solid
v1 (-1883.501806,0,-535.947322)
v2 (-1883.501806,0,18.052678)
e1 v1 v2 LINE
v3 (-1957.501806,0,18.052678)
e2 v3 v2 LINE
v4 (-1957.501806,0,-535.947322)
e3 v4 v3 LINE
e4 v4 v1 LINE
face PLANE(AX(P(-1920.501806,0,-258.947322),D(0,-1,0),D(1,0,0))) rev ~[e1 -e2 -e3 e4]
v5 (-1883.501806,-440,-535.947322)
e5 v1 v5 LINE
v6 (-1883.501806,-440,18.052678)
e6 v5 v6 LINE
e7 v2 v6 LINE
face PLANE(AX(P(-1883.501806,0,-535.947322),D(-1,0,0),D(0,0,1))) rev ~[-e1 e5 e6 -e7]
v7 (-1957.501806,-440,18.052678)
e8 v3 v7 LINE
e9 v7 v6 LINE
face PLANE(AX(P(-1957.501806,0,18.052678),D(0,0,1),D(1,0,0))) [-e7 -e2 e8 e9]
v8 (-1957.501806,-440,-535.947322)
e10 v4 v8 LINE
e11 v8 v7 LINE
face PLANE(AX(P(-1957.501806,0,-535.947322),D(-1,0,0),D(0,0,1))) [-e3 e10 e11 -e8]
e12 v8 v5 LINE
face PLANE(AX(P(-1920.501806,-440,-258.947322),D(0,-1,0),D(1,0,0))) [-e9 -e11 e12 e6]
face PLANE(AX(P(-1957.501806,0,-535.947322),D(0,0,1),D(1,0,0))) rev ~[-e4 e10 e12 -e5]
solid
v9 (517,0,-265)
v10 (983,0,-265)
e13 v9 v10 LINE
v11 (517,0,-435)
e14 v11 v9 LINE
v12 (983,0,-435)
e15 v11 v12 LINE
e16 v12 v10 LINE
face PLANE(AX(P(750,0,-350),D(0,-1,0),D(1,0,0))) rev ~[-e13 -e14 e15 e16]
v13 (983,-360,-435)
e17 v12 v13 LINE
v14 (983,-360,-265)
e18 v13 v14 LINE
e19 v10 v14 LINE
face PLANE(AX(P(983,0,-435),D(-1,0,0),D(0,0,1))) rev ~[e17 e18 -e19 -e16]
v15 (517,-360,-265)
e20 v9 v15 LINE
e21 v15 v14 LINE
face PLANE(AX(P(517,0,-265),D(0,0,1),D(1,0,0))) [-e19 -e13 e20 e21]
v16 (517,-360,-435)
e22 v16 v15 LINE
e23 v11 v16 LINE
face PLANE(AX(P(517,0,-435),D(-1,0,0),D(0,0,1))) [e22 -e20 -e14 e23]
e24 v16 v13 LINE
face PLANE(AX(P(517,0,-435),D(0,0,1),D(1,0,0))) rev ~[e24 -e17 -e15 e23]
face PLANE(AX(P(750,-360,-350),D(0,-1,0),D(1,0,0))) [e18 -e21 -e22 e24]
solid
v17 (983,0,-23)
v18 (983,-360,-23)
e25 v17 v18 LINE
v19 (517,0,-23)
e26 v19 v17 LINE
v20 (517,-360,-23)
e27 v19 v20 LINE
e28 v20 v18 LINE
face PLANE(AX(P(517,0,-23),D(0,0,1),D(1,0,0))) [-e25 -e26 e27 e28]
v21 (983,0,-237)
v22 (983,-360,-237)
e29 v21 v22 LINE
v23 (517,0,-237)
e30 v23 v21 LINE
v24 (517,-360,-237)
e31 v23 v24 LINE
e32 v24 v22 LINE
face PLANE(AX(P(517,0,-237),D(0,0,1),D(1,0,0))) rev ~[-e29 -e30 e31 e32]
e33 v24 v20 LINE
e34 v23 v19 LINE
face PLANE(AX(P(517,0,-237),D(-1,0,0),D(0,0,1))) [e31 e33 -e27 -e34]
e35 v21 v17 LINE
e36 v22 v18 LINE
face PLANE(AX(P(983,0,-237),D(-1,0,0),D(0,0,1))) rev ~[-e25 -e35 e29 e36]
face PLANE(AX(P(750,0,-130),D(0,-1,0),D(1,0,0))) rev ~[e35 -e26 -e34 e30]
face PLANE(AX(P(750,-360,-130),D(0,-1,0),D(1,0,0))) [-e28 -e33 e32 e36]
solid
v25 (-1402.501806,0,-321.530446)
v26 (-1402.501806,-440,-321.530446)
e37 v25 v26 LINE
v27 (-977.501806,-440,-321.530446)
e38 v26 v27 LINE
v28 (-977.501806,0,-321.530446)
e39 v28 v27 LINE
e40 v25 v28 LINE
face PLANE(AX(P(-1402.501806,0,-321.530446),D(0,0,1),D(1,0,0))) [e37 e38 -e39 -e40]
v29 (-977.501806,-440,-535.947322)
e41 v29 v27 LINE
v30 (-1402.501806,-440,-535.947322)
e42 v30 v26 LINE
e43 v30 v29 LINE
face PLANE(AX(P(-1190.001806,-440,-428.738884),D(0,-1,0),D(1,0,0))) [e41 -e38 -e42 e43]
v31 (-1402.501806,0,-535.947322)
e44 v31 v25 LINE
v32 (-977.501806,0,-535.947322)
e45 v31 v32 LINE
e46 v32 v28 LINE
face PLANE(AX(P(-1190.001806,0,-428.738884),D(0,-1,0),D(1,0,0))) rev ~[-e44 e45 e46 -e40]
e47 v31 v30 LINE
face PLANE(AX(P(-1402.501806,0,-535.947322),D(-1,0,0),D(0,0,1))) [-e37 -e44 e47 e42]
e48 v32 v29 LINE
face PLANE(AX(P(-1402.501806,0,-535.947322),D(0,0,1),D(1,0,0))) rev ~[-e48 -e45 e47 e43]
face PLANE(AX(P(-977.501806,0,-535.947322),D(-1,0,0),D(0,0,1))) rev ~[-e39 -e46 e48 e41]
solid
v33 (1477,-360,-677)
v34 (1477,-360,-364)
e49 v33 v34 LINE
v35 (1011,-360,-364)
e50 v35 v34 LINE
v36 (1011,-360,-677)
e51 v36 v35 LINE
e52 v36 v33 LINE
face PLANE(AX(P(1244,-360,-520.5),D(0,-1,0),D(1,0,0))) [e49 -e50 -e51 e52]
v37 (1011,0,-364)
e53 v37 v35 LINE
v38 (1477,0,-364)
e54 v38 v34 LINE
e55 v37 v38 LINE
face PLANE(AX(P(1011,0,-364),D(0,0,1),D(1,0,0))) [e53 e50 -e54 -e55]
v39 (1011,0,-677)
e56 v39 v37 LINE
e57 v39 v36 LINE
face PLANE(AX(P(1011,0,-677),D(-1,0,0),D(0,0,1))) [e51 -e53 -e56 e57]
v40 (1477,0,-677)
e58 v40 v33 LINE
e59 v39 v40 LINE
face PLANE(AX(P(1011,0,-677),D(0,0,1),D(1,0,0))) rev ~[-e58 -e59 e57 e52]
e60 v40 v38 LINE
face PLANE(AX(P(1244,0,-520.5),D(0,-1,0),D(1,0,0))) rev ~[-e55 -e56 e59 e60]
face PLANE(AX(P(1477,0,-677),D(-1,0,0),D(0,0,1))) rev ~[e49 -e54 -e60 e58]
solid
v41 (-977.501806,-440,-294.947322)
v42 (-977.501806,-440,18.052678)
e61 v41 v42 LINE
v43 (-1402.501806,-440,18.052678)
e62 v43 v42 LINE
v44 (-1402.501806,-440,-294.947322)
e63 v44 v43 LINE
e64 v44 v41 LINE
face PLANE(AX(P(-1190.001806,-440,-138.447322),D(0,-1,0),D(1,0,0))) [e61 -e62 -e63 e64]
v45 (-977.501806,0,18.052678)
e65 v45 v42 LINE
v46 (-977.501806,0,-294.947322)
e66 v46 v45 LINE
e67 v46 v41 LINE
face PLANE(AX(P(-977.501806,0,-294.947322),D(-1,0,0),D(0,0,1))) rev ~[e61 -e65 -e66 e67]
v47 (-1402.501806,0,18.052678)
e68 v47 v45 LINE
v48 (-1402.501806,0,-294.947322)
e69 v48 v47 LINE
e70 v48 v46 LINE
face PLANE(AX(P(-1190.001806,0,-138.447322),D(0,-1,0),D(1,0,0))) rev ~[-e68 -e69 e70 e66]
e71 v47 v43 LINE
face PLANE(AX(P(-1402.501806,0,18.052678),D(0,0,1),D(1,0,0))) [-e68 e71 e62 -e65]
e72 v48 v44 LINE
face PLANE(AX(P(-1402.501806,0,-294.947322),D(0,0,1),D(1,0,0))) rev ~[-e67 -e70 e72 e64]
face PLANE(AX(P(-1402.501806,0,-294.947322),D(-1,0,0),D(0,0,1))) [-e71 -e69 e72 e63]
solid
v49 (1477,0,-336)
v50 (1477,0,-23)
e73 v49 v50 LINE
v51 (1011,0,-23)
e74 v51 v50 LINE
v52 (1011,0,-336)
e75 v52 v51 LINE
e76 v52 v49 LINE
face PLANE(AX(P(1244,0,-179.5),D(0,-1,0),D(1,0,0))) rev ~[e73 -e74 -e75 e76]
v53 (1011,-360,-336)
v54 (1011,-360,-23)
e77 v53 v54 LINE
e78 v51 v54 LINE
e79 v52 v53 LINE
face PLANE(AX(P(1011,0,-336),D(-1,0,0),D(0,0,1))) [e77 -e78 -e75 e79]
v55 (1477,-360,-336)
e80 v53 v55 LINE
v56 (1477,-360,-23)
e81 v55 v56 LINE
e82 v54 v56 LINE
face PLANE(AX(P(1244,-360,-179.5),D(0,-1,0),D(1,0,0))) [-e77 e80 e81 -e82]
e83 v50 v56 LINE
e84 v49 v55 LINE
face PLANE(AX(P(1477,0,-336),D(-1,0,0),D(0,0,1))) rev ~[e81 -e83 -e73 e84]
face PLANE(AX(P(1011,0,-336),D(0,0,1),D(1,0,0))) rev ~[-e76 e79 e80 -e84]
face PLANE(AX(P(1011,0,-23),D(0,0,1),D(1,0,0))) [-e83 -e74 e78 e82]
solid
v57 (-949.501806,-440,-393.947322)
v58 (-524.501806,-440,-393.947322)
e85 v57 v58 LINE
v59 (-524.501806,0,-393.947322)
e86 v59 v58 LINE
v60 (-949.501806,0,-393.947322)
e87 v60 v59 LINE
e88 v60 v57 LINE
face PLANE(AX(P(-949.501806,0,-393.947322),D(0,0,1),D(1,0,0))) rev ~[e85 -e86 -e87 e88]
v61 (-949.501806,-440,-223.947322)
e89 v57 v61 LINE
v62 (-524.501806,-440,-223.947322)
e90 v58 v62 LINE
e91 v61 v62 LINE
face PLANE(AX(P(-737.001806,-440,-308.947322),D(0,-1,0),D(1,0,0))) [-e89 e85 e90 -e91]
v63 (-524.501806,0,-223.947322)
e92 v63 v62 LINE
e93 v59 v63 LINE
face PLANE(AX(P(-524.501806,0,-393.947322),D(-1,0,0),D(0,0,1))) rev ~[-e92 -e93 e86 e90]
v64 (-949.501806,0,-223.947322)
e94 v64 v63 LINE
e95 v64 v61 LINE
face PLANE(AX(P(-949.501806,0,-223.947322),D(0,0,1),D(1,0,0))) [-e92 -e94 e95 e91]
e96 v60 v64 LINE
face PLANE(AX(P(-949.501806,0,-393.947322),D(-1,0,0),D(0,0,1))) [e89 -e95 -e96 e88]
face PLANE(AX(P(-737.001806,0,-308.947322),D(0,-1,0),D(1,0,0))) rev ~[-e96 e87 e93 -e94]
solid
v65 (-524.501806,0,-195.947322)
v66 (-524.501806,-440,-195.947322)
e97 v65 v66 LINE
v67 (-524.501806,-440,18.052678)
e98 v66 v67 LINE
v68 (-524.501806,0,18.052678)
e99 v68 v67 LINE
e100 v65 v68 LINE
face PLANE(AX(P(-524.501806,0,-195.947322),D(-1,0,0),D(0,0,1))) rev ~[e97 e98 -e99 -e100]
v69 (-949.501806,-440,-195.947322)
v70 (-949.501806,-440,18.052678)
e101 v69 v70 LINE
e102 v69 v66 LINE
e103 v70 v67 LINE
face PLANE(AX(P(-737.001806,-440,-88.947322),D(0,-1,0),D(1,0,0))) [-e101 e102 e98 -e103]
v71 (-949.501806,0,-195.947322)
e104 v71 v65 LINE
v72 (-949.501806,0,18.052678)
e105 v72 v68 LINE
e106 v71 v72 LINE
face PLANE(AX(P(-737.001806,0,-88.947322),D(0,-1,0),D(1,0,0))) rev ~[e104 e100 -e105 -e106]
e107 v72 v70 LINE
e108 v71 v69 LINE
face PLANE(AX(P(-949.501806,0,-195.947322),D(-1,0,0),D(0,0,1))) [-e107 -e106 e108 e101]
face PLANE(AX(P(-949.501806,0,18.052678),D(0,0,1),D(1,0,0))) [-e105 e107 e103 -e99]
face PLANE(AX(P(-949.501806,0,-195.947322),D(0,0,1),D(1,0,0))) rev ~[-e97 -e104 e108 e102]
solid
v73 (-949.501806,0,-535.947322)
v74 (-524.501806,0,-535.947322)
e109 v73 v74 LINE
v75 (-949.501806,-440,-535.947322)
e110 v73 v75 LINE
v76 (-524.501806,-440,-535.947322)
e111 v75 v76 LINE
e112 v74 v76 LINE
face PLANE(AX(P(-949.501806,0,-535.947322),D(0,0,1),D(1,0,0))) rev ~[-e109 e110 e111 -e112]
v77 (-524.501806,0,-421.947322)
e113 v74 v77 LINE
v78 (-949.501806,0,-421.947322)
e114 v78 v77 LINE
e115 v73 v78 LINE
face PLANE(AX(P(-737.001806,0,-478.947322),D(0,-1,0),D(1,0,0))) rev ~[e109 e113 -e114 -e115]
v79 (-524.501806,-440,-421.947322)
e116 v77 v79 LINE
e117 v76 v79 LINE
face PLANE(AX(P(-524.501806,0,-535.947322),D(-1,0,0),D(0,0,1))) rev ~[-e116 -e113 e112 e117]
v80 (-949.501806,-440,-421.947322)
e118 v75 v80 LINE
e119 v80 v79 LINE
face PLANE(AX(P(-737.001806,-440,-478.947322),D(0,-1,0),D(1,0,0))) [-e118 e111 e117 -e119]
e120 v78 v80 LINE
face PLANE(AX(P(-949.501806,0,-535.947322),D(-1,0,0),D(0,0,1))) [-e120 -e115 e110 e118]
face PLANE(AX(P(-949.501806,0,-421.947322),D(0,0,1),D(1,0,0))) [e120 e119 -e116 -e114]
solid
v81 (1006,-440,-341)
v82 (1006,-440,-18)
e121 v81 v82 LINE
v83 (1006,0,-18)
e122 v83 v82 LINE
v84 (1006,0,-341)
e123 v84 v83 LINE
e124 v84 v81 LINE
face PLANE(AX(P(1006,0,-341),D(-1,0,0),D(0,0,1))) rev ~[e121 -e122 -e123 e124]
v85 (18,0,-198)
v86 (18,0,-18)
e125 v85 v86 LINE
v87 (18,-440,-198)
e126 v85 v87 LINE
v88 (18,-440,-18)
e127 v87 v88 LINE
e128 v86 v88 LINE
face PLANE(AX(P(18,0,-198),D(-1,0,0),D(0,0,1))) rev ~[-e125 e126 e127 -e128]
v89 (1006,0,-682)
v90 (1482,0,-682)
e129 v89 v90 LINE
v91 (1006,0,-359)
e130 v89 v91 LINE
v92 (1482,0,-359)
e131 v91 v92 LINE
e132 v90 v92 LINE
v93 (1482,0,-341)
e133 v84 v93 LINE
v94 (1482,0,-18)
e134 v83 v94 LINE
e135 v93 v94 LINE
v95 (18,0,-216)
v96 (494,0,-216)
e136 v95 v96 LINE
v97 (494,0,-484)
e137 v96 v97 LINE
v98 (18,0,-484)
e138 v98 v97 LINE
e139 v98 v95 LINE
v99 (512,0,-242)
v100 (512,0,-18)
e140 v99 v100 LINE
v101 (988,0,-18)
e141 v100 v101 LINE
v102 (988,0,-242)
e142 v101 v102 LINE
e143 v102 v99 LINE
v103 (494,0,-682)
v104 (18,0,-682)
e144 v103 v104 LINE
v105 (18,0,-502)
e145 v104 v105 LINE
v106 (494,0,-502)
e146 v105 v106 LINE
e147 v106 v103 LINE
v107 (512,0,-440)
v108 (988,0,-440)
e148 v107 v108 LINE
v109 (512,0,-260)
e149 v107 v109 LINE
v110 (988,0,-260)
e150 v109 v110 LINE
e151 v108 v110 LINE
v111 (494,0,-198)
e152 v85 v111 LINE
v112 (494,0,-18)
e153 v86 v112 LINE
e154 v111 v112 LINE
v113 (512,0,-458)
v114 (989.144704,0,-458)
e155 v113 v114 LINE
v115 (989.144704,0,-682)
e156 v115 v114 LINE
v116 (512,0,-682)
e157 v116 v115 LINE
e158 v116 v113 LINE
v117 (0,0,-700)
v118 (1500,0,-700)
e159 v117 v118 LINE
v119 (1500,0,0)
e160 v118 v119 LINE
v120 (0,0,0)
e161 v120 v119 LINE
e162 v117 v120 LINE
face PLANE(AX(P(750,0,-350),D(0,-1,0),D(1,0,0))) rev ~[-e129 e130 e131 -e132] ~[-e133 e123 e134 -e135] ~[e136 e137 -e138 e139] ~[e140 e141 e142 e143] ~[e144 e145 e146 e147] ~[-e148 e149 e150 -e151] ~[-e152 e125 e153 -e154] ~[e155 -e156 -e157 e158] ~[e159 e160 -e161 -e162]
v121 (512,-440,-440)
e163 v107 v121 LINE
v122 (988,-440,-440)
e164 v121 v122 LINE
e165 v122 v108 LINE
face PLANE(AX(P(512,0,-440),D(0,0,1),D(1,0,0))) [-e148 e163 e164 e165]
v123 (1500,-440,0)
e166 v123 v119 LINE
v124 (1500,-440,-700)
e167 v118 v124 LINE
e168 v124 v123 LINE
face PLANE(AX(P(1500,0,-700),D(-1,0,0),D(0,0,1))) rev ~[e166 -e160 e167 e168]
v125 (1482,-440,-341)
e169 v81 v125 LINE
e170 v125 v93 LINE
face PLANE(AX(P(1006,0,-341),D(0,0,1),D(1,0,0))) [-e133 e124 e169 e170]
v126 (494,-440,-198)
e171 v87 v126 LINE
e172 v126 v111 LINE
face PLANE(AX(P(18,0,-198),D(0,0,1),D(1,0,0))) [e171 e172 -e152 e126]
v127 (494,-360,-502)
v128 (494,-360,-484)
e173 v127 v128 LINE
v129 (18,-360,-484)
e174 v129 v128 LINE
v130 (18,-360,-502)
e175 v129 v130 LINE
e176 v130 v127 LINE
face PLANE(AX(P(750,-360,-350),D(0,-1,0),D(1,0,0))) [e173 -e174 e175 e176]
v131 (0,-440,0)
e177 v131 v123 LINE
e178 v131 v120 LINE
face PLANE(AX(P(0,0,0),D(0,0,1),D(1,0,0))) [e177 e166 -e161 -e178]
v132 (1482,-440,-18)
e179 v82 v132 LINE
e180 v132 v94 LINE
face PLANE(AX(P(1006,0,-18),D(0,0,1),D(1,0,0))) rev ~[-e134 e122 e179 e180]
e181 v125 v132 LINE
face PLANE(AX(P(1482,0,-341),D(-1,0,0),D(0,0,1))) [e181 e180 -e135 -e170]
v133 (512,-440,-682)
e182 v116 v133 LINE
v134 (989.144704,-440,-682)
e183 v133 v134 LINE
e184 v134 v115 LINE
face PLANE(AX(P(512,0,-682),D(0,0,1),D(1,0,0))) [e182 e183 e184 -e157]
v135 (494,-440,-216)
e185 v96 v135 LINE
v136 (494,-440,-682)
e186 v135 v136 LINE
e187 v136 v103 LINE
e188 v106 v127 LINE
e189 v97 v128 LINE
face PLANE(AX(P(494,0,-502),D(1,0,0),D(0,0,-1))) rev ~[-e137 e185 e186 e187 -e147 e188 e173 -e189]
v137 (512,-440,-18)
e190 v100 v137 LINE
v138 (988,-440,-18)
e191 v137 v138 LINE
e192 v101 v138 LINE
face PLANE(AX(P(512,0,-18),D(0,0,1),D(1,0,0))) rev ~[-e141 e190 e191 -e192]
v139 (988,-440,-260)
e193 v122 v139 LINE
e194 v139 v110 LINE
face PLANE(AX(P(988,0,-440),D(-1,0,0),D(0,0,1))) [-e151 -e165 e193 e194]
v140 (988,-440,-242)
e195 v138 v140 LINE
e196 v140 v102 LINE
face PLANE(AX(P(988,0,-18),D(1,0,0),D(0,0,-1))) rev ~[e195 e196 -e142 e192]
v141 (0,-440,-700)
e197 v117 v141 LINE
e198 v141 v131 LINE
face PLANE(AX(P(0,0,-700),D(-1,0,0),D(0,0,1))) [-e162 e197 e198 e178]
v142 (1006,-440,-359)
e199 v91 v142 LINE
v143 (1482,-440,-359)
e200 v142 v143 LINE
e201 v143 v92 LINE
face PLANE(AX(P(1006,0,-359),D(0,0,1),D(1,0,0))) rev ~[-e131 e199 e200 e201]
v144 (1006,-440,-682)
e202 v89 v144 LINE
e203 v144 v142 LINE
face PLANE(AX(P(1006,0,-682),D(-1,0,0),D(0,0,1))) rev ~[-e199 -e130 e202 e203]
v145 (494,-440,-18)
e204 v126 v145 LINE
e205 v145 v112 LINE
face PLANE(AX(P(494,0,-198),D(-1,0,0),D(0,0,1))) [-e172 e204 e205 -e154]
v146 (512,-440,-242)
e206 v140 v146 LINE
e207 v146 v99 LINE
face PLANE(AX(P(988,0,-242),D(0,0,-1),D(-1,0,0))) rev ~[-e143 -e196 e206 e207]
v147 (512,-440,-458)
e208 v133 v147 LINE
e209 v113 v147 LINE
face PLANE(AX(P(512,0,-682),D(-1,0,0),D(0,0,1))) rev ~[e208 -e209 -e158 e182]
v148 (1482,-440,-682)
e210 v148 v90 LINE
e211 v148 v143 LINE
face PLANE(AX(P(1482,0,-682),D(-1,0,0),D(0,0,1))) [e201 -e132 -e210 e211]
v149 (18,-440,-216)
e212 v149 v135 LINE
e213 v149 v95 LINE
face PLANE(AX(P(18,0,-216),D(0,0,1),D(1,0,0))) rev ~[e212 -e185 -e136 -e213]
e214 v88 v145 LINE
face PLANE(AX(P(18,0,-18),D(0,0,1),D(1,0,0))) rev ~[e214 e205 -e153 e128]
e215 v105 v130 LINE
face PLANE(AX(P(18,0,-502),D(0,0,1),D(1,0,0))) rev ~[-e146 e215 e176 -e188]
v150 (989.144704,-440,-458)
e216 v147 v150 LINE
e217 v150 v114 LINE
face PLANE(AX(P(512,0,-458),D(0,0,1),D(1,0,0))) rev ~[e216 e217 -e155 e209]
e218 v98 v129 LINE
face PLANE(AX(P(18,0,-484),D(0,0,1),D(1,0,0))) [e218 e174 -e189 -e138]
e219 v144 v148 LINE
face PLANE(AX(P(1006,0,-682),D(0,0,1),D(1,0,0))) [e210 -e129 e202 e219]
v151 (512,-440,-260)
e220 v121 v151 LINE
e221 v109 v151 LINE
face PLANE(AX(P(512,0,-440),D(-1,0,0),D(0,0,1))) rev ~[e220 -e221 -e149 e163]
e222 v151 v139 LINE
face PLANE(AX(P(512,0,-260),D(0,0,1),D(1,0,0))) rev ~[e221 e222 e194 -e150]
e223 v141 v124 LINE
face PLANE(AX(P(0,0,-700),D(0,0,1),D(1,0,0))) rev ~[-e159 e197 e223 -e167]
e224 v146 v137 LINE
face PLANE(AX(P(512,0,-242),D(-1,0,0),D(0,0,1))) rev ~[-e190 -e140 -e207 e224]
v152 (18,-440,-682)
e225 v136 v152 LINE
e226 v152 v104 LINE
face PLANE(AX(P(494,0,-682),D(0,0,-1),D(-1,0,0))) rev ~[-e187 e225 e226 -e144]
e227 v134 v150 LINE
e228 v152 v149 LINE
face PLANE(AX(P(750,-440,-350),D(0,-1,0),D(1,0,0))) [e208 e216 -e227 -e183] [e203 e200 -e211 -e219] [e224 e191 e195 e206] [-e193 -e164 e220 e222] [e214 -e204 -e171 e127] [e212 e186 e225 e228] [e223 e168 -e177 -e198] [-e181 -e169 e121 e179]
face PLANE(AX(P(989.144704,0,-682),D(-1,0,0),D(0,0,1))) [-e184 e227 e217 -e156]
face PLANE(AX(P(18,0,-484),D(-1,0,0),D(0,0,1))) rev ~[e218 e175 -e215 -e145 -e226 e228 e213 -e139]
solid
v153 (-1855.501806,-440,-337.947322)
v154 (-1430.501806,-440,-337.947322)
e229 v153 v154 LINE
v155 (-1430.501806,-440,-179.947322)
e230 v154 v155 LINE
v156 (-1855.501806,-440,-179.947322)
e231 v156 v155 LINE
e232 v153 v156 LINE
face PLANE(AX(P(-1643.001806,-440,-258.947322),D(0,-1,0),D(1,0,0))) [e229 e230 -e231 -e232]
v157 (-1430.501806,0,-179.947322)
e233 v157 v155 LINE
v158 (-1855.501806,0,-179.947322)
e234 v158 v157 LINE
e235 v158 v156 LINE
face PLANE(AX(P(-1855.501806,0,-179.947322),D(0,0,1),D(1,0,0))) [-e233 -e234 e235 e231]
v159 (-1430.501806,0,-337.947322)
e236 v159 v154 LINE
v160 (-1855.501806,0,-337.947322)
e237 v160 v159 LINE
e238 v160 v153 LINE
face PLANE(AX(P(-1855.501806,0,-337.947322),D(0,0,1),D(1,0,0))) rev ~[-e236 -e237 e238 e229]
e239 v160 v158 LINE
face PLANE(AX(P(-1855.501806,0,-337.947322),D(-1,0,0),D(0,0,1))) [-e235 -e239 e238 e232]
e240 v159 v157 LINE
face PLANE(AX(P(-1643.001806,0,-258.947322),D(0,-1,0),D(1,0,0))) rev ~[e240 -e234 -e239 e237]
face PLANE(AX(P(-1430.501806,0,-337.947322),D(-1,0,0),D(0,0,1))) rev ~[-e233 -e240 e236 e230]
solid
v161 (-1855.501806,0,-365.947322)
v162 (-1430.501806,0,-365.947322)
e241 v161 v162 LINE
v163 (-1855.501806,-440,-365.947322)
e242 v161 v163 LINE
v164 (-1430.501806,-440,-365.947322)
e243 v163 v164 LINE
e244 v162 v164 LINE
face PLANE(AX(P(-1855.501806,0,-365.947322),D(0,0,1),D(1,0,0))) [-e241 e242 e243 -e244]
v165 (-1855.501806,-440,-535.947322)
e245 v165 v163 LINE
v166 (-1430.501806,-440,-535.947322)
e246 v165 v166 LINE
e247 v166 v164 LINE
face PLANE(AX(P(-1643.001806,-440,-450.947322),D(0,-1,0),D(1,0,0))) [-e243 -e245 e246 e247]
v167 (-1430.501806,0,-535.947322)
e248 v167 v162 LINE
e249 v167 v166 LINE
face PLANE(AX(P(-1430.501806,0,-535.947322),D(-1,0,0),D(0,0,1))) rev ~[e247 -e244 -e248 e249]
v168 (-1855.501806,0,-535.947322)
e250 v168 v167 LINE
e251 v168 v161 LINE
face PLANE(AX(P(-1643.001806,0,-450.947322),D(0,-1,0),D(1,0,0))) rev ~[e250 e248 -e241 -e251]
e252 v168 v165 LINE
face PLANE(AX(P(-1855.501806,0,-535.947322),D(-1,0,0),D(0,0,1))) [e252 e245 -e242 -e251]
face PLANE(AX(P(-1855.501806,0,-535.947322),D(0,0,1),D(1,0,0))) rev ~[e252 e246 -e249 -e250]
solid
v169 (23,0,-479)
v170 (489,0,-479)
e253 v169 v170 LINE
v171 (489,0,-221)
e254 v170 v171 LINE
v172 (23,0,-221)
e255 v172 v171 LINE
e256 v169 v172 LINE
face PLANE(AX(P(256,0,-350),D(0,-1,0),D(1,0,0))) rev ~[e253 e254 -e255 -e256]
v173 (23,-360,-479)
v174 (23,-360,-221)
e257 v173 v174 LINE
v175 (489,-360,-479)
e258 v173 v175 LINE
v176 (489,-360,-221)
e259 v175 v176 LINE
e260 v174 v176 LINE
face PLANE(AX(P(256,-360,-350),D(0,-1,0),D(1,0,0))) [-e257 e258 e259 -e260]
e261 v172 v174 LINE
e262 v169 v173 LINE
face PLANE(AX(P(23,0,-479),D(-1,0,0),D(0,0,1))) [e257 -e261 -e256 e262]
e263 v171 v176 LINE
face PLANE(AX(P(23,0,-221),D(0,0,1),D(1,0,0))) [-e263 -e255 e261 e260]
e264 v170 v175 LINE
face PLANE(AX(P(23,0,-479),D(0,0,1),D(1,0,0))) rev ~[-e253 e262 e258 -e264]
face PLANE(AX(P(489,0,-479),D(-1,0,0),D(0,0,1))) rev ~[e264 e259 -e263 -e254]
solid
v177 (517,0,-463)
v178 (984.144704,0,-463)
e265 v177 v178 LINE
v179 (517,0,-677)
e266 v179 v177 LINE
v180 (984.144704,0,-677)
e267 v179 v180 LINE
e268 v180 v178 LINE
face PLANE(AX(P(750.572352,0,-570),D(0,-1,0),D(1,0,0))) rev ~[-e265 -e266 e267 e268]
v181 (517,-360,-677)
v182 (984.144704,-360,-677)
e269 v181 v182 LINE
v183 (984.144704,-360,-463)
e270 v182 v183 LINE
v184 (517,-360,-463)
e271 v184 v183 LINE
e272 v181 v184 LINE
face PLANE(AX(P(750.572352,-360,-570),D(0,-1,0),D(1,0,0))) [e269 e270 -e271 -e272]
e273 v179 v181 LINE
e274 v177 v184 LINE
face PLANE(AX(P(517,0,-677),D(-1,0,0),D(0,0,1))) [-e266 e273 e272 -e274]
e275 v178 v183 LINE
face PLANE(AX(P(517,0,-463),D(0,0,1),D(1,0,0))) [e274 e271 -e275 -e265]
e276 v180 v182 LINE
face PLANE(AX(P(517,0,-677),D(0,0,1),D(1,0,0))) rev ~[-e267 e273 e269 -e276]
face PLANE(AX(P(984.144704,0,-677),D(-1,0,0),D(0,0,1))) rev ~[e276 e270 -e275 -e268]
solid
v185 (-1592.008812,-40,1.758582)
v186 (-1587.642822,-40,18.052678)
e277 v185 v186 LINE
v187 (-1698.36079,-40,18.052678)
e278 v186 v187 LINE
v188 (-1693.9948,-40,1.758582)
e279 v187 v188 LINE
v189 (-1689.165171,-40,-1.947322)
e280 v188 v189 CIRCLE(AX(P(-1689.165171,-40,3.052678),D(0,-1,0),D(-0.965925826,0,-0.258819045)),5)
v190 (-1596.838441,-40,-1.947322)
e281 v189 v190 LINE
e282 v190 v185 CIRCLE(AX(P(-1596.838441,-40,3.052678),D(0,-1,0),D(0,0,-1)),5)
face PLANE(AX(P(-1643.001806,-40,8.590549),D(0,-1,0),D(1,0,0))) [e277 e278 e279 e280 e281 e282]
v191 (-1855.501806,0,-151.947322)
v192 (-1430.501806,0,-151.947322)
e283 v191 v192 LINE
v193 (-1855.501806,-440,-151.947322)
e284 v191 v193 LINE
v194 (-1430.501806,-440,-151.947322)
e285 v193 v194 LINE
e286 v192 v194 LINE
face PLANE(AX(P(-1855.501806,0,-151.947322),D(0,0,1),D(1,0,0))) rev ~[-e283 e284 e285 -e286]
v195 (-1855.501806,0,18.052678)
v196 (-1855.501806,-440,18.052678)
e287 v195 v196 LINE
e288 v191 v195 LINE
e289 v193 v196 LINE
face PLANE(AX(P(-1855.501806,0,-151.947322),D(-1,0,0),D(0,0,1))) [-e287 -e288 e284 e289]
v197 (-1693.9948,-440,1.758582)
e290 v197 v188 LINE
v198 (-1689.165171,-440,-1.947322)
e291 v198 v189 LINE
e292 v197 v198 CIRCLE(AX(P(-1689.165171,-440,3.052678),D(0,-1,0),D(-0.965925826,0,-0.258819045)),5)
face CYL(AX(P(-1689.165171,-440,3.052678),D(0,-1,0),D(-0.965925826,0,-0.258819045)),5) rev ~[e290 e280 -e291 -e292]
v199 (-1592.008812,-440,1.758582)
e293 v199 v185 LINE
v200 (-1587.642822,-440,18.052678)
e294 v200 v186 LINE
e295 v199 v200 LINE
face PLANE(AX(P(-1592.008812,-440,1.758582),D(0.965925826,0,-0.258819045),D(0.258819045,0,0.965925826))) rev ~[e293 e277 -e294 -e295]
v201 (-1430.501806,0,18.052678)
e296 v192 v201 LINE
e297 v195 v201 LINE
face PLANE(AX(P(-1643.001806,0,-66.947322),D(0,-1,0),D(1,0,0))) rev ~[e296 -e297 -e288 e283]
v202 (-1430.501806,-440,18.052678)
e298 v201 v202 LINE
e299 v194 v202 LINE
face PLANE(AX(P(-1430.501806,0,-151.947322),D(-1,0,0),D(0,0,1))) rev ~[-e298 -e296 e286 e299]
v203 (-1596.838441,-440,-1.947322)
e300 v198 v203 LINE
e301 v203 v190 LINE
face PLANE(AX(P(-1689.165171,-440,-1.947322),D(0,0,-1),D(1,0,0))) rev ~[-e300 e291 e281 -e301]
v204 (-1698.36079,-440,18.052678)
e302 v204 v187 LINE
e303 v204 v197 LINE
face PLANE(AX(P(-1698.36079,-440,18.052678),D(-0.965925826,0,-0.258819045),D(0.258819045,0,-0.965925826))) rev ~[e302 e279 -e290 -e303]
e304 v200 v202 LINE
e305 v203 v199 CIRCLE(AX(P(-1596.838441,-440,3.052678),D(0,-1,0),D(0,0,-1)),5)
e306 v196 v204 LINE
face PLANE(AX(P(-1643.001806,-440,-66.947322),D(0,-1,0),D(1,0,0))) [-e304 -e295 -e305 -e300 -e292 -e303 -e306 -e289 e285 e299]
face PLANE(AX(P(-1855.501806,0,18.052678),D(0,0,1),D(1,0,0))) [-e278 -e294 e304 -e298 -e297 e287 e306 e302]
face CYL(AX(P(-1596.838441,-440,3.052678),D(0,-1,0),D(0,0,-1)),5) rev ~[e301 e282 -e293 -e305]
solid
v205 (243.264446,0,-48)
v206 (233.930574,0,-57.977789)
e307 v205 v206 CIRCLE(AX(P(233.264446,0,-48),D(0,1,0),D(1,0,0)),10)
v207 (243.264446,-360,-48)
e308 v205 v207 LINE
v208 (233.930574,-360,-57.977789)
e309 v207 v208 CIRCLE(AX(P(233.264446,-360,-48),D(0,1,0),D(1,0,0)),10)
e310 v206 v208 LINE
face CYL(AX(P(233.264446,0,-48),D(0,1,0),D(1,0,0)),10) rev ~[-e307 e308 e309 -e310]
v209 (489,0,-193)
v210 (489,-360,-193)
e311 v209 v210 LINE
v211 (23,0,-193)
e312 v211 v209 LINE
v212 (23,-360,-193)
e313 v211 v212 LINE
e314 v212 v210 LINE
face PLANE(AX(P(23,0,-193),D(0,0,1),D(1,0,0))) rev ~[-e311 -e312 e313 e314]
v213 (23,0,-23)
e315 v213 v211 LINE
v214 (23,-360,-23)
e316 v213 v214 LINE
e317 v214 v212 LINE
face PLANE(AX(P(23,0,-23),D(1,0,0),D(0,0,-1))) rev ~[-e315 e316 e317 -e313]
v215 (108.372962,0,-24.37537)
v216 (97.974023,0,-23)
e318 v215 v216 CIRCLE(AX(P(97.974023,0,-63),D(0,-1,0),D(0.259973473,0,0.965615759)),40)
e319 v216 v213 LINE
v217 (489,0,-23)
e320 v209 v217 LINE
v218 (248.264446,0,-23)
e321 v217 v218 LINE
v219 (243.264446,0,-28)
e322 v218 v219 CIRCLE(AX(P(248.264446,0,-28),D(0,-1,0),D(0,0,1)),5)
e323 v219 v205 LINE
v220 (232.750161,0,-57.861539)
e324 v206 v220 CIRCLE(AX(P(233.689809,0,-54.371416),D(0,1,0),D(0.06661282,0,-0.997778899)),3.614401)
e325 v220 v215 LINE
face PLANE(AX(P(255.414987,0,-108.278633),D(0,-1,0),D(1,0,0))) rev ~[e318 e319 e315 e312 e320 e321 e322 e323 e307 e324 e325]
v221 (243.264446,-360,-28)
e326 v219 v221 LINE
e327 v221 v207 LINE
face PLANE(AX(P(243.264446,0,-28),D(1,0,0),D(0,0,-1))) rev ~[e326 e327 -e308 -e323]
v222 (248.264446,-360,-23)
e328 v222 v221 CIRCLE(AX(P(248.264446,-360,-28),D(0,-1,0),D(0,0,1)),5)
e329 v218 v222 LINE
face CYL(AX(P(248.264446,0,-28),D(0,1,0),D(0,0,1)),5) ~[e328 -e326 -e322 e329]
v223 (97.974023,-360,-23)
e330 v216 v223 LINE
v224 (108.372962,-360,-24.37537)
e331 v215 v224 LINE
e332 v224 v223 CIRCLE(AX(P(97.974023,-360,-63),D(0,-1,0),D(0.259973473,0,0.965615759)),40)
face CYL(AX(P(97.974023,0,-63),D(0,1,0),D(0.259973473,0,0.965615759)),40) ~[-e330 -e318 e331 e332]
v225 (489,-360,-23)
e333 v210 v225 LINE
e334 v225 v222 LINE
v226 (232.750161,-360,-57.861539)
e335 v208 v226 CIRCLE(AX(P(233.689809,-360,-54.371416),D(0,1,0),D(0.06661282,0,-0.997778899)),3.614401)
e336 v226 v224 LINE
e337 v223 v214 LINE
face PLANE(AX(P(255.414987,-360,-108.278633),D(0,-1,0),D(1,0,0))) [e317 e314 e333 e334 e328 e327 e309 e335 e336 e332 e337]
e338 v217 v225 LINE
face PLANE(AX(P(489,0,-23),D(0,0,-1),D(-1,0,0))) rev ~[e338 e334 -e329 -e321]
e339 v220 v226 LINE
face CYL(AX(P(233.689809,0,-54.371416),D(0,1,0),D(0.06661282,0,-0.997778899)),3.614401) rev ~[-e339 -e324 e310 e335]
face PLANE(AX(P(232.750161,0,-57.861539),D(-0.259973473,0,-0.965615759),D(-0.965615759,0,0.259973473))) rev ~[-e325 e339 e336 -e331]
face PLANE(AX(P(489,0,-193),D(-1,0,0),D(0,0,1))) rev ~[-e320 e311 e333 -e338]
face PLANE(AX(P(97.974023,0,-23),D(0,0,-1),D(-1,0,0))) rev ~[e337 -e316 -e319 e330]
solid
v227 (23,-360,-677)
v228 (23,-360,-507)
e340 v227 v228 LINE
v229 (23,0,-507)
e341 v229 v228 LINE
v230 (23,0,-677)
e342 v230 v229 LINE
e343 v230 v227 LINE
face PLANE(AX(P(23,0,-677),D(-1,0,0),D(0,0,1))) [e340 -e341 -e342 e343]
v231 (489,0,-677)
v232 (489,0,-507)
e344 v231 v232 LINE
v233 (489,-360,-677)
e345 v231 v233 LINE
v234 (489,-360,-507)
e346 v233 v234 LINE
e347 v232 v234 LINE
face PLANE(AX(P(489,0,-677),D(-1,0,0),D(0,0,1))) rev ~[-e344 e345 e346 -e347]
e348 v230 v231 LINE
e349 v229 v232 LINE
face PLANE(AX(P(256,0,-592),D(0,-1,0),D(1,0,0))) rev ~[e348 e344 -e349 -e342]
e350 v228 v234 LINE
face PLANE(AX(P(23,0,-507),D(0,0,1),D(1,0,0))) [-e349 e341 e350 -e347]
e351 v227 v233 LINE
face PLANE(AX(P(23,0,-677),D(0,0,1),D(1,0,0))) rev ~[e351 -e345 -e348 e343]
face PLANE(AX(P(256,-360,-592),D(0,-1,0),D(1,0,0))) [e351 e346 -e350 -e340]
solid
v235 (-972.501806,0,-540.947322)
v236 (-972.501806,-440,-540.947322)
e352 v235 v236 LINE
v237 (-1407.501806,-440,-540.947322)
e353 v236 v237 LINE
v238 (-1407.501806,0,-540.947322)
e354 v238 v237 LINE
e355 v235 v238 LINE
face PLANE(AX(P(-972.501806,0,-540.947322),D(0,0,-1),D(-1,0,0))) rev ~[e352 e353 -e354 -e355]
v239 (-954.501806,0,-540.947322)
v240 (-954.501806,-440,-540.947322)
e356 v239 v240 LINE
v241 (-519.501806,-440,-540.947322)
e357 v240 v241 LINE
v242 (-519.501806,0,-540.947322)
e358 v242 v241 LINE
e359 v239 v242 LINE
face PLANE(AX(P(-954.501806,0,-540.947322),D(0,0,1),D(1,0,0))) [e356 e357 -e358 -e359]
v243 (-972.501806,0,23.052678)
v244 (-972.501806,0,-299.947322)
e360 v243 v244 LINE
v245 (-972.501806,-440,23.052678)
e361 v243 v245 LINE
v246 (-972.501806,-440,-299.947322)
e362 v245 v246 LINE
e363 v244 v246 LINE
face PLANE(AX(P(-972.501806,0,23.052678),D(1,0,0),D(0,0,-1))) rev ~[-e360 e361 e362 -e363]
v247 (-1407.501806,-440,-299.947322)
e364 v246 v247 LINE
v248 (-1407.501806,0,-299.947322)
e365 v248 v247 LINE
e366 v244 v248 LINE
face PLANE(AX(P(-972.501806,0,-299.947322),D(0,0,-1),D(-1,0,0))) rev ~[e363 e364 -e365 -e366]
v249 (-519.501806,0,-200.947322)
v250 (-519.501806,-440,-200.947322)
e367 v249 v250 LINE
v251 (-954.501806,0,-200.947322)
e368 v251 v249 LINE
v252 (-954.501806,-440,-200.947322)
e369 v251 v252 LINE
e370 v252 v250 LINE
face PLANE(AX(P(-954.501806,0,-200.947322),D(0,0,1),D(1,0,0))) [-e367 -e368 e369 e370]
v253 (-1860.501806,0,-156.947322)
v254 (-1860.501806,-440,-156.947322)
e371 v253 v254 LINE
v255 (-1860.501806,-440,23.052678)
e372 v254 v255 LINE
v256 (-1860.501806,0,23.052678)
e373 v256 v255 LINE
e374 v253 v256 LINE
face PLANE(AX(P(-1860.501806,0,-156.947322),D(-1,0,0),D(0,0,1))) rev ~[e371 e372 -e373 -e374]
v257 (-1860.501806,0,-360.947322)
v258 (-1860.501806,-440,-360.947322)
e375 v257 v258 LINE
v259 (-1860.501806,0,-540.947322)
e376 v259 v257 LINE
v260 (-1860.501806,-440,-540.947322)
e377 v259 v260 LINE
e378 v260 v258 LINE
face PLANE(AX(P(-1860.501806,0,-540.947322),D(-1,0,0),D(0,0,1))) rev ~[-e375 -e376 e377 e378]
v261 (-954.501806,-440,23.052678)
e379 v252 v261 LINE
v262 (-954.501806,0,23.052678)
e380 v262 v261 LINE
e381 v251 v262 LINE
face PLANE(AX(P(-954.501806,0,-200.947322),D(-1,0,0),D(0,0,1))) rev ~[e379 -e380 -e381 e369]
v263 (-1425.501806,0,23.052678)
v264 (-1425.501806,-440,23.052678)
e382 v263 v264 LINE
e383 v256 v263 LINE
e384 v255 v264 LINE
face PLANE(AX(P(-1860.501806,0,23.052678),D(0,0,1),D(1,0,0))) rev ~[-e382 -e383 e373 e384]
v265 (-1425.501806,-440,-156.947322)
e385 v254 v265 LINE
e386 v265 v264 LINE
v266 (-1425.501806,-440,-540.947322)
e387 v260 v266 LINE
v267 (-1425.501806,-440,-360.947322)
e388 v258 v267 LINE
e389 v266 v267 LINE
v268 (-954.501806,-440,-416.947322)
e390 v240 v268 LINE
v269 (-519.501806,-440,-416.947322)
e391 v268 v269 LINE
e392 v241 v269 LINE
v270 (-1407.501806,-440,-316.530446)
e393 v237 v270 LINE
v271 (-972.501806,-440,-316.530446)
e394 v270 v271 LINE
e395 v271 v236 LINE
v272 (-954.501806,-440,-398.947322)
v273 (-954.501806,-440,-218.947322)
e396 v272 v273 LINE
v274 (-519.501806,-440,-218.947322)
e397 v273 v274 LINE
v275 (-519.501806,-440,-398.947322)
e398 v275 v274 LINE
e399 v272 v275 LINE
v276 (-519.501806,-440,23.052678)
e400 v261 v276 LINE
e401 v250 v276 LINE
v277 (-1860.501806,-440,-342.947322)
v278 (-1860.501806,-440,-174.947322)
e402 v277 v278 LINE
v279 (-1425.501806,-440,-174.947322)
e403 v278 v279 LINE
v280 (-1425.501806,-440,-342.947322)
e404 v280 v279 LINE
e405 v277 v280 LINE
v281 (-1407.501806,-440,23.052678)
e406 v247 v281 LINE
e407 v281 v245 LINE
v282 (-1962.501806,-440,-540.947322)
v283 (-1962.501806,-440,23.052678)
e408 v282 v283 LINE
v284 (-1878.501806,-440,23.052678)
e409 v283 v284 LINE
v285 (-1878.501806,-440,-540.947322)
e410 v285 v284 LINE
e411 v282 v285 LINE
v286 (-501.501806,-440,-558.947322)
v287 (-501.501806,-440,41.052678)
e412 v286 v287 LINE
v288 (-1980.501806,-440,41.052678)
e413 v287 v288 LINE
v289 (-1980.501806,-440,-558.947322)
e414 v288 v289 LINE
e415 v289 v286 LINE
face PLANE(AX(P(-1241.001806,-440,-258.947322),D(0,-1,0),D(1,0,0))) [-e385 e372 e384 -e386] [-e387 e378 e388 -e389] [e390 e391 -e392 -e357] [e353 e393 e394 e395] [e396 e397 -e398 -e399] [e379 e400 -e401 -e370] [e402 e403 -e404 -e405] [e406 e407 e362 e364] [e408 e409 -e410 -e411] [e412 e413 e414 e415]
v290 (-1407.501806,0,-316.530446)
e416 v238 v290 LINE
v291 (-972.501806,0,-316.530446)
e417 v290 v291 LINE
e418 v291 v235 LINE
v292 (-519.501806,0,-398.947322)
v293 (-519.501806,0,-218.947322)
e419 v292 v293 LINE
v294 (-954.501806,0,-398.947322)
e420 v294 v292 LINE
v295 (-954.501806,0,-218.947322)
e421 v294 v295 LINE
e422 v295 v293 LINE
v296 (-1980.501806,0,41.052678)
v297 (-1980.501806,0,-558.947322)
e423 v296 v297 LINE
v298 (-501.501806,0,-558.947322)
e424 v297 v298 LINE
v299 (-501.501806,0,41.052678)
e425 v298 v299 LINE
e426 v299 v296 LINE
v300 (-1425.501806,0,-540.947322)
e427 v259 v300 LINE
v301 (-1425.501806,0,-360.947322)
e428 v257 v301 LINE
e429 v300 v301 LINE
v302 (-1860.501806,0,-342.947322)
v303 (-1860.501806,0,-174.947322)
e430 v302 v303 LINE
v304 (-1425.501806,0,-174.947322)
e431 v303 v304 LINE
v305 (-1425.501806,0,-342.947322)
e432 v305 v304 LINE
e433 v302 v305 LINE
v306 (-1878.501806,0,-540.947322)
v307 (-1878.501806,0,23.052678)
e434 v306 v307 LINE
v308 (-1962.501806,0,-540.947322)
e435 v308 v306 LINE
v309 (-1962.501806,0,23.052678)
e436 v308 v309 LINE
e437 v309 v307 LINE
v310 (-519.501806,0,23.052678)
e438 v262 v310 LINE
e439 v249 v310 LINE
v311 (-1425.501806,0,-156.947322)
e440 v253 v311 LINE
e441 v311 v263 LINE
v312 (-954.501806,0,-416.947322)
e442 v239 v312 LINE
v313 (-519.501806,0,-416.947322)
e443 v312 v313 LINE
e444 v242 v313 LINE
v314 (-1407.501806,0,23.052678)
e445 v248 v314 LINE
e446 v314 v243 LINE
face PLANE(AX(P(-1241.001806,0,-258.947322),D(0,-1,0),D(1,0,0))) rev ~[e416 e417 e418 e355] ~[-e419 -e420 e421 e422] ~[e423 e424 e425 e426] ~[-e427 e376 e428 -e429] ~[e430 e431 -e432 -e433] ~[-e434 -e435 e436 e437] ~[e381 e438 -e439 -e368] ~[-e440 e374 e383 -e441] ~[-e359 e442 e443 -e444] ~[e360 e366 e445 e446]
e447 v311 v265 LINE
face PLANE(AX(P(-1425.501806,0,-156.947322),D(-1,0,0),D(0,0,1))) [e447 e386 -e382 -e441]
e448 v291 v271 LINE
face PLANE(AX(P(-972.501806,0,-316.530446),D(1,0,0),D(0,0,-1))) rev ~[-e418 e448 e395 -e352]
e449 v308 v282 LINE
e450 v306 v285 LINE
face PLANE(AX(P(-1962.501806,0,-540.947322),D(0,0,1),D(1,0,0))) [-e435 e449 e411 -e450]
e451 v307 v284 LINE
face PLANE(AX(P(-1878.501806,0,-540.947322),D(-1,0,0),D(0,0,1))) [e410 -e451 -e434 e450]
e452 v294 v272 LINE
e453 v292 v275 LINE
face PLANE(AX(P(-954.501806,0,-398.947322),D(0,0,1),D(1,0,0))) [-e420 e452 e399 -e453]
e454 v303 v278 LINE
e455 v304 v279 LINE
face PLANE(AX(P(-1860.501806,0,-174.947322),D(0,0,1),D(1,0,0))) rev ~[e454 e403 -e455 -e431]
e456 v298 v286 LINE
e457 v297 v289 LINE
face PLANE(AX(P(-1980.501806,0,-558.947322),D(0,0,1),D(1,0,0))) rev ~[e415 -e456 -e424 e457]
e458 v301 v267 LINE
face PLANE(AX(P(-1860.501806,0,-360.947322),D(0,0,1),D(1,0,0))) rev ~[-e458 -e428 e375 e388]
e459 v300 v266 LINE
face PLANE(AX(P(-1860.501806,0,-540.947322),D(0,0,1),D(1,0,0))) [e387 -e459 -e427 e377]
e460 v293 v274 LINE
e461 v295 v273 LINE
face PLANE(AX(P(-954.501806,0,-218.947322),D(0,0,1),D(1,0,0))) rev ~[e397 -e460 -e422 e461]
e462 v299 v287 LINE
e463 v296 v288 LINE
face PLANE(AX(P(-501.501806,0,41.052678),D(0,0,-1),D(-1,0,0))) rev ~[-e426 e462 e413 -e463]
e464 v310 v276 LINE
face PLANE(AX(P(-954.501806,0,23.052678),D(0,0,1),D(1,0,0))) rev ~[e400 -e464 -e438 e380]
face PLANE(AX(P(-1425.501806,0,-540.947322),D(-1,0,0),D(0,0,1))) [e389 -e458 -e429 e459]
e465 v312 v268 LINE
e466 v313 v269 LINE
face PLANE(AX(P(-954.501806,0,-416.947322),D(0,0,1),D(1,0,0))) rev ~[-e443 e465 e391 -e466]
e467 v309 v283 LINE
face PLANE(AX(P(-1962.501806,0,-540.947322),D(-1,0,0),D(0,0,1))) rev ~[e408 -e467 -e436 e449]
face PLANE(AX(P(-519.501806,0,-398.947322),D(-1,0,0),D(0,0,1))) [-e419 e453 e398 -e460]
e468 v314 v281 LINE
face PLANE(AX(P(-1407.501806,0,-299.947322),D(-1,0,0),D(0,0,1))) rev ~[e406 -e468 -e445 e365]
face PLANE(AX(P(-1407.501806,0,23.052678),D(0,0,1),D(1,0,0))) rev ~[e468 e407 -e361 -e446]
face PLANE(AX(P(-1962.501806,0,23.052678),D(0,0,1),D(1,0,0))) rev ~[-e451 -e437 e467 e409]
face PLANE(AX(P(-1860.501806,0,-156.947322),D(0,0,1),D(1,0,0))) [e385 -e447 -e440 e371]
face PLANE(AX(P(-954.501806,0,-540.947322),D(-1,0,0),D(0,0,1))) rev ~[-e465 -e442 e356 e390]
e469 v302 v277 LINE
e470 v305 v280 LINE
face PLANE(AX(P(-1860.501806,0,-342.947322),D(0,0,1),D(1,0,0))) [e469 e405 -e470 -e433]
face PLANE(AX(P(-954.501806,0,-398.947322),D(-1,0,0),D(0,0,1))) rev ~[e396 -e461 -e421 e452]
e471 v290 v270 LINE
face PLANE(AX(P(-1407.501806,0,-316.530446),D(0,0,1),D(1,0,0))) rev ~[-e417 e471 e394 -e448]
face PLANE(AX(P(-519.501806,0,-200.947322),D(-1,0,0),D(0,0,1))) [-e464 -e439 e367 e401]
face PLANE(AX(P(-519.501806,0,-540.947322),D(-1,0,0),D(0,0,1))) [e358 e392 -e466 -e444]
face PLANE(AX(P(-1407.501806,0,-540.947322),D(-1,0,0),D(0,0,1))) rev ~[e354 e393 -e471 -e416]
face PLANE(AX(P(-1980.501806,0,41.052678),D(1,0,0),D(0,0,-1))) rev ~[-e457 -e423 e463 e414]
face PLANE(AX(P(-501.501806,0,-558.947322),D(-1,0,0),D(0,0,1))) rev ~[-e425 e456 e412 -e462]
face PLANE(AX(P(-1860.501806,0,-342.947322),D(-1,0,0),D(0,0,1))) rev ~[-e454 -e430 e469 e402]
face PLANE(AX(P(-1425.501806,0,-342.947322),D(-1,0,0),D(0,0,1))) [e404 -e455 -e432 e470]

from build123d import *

# Parameters (mm, degrees)
F0_W     = 1500
F0_H     = 700
F0_W_2   = 477.1447038651
F0_H_2   = 224
F0_W_3   = 476
F0_H_3   = 323
F0_H_4   = 180
F0_H_5   = 18
F1_DEPTH = 360
F2_DEPTH = 360
F0_W_4   = 466
F0_H_6   = 214
F0_H_7   = 313
F0_H_8   = 258
F0_H_9   = 170
F0_W_5   = 467.1447038651
F3_DEPTH = 440
F0_W_6   = 435
F0_H_10  = 124
F0_W_7   = 84
F0_H_11  = 564
F0_H_12  = 168
F0_W_8   = 425
F4_DEPTH = 440
F0_H_13  = 114
F0_H_14  = 214.4168760482
F0_W_9   = 424.9999999106
F0_H_15  = 169.9999999106
F0_H_16  = 158
F0_W_10  = 74
F0_H_17  = 554
F6_DEPTH = 400


with BuildPart() as f1:
    # F0 (on Front) → F1 (new body)
    with BuildSketch(Plane.XZ):
        with Locations((750, -350)):
            Rectangle(F0_W, F0_H)
        with Locations((750.5723519325, -570)):
            Rectangle(F0_W_2, F0_H_2, mode=Mode.SUBTRACT)
        with Locations((1244, -520.5)):
            Rectangle(F0_W_3, F0_H_3, mode=Mode.SUBTRACT)
        Polygon((494, -682), (18, -682), (18, -502), (18, -484), (18, -216), (494, -216), (494, -484), (494, -502), align=None, mode=Mode.SUBTRACT)
        with Locations((750, -350)):
            Rectangle(F0_W_3, F0_H_4, mode=Mode.SUBTRACT)
        with Locations((1244, -179.5)):
            Rectangle(F0_W_3, F0_H_3, mode=Mode.SUBTRACT)
        with Locations((256, -108)):
            Rectangle(F0_W_3, F0_H_4, mode=Mode.SUBTRACT)
        Polygon((512, -178), (512, -18), (988, -18), (988, -206), (988, -242), (512, -242), align=None, mode=Mode.SUBTRACT)
        with Locations((256, -493)):
            Rectangle(F0_W_3, F0_H_5)
    extrude(amount=F1_DEPTH)

    # F0 (on Front) → F3 (join)
    with BuildSketch(Plane.XZ):
        with Locations((750, -350)):
            Rectangle(F0_W, F0_H)
        with Locations((750.5723519325, -570)):
            Rectangle(F0_W_2, F0_H_2, mode=Mode.SUBTRACT)
        with Locations((1244, -520.5)):
            Rectangle(F0_W_3, F0_H_3, mode=Mode.SUBTRACT)
        Polygon((494, -682), (18, -682), (18, -502), (18, -484), (18, -216), (494, -216), (494, -484), (494, -502), align=None, mode=Mode.SUBTRACT)
        with Locations((750, -350)):
            Rectangle(F0_W_3, F0_H_4, mode=Mode.SUBTRACT)
        with Locations((1244, -179.5)):
            Rectangle(F0_W_3, F0_H_3, mode=Mode.SUBTRACT)
        with Locations((256, -108)):
            Rectangle(F0_W_3, F0_H_4, mode=Mode.SUBTRACT)
        Polygon((512, -178), (512, -18), (988, -18), (988, -206), (988, -242), (512, -242), align=None, mode=Mode.SUBTRACT)
    extrude(amount=F3_DEPTH)


with BuildPart() as f2:
    # F0 (on Front) → F2 (new body)
    with BuildSketch(Plane.XZ):
        with BuildLine():
            Line((97.9740232229, -23.0000000447), (23.0000000447, -23.0000000447))
            Line((23.0000000447, -23.0000000447), (23.0000000447, -192.9999999553))
            Line((23.0000000447, -192.9999999553), (488.9999999553, -192.9999999553))
            Line((488.9999999553, -192.9999999553), (488.9999999553, -23.0000000447))
            Line((488.9999999553, -23.0000000447), (258.2644462839, -23.0000000447))
            Line((258.2644462839, -23.0000000447), (248.2644462839, -23.0000000447))
            ThreePointArc((248.2644462839, -23.0000000447), (244.728912378, -24.4644661388), (243.2644462839, -28.0000000447))
            Line((243.2644462839, -28.0000000447), (243.2644462839, -48.0000000447))
            ThreePointArc((243.2644462839, -48.0000000447), (240.5672293819, -54.8314976129), (233.9305744791, -57.9777890396))
            ThreePointArc((233.9305744791, -57.9777890396), (233.3355664083, -57.9684156693), (232.7501607809, -57.8615385631))
            Line((232.7501607809, -57.8615385631), (108.3729621608, -24.3753697039))
            ThreePointArc((108.3729621608, -24.3753697039), (103.2187723288, -23.3453331464), (97.9740232229, -23.0000000447))
        make_face()
    extrude(amount=F2_DEPTH)


with BuildPart() as f2b:
    # F0 (on Front) → F2, piece 2 (new body)
    with BuildSketch(Plane.XZ):
        with Locations((750, -130)):
            Rectangle(F0_W_4, F0_H_6)
    extrude(amount=F2_DEPTH)


with BuildPart() as f2c:
    # F0 (on Front) → F2, piece 3 (new body)
    with BuildSketch(Plane.XZ):
        with Locations((1244, -179.5)):
            Rectangle(F0_W_4, F0_H_7)
    extrude(amount=F2_DEPTH)


with BuildPart() as f2d:
    # F0 (on Front) → F2, piece 4 (new body)
    with BuildSketch(Plane.XZ):
        with Locations((256, -350)):
            Rectangle(F0_W_4, F0_H_8)
    extrude(amount=F2_DEPTH)


with BuildPart() as f2e:
    # F0 (on Front) → F2, piece 5 (new body)
    with BuildSketch(Plane.XZ):
        with Locations((256, -592)):
            Rectangle(F0_W_4, F0_H_9)
    extrude(amount=F2_DEPTH)


with BuildPart() as f2f:
    # F0 (on Front) → F2, piece 6 (new body)
    with BuildSketch(Plane.XZ):
        with Locations((1244, -520.5)):
            Rectangle(F0_W_4, F0_H_7)
    extrude(amount=F2_DEPTH)


with BuildPart() as f2g:
    # F0 (on Front) → F2, piece 7 (new body)
    with BuildSketch(Plane.XZ):
        with Locations((750, -350)):
            Rectangle(F0_W_4, F0_H_9)
    extrude(amount=F2_DEPTH)


with BuildPart() as f2h:
    # F0 (on Front) → F2, piece 8 (new body)
    with BuildSketch(Plane.XZ):
        with Locations((750.5723519325, -570)):
            Rectangle(F0_W_5, F0_H_6)
    extrude(amount=F2_DEPTH)


with BuildPart() as f3:
    # F0 (on Front) → F3, piece 2 (new body)
    with BuildSketch(Plane.XZ):
        Polygon((-501.5018062246, 41.052677546), (-1980.5018062246, 41.052677546), (-1980.5018062246, 23.052677546), (-1980.5018062246, -558.947322454), (-501.5018062246, -558.947322454), (-501.5018062246, 23.052677546), align=None)
        with Locations((-1643.0018062246, -450.947322454)):
            Rectangle(F0_W_6, F0_H_4, mode=Mode.SUBTRACT)
        Polygon((-1407.5018062246, -316.5304464058), (-972.5018062246, -316.5304464058), (-972.5018062246, -540.947322454), (-1407.5018062246, -540.947322454), (-1407.5018062246, -515.947322454), align=None, mode=Mode.SUBTRACT)
        with Locations((-737.0018062246, -478.947322454)):
            Rectangle(F0_W_6, F0_H_10, mode=Mode.SUBTRACT)
        with Locations((-1920.5018062246, -258.947322454)):
            Rectangle(F0_W_7, F0_H_11, mode=Mode.SUBTRACT)
        with Locations((-1643.0018062246, -258.947322454)):
            Rectangle(F0_W_6, F0_H_12, mode=Mode.SUBTRACT)
        with Locations((-737.0018062246, -308.947322454)):
            Rectangle(F0_W_6, F0_H_4, mode=Mode.SUBTRACT)
        with Locations((-1643.0018062246, -66.947322454)):
            Rectangle(F0_W_6, F0_H_4, mode=Mode.SUBTRACT)
        Polygon((-1407.5018062246, -36.947322454), (-1407.5018062246, 23.052677546), (-972.5018062246, 23.052677546), (-972.5018062246, -64.947322454), (-972.5018062246, -299.947322454), (-1407.5018062246, -299.947322454), align=None, mode=Mode.SUBTRACT)
        with Locations((-737.0018062246, -88.947322454)):
            Rectangle(F0_W_6, F0_H_2, mode=Mode.SUBTRACT)
    extrude(amount=F3_DEPTH)


with BuildPart() as f4:
    # F0 (on Front) → F4 (new body)
    with BuildSketch(Plane.XZ):
        with Locations((-737.0018062246, -88.947322454)):
            Rectangle(F0_W_8, F0_H_6)
    extrude(amount=F4_DEPTH)


with BuildPart() as f4b:
    # F0 (on Front) → F4, piece 2 (new body)
    with BuildSketch(Plane.XZ):
        with Locations((-737.0018062246, -308.947322454)):
            Rectangle(F0_W_8, F0_H_9)
    extrude(amount=F4_DEPTH)


with BuildPart() as f4c:
    # F0 (on Front) → F4, piece 3 (new body)
    with BuildSketch(Plane.XZ):
        with Locations((-737.0018062246, -478.947322454)):
            Rectangle(F0_W_8, F0_H_13)
    extrude(amount=F4_DEPTH)


with BuildPart() as f4d:
    # F0 (on Front) → F4, piece 4 (new body)
    with BuildSketch(Plane.XZ):
        with Locations((-1190.0018062246, -138.447322454)):
            Rectangle(F0_W_8, F0_H_7)
    extrude(amount=F4_DEPTH)


with BuildPart() as f4e:
    # F0 (on Front) → F4, piece 5 (new body)
    with BuildSketch(Plane.XZ):
        with Locations((-1190.0018062246, -428.7388844299)):
            Rectangle(F0_W_8, F0_H_14)
    extrude(amount=F4_DEPTH)


with BuildPart() as f4f:
    # F0 (on Front) → F4, piece 6 (new body)
    with BuildSketch(Plane.XZ):
        with Locations((-1643.0018062246, -66.947322454)):
            Rectangle(F0_W_9, F0_H_15)
    extrude(amount=F4_DEPTH)

    # F5 (on face) → F6 (cut)
    with BuildSketch(Plane.XZ.offset(440)):
        with BuildLine():
            Line((-1689.1651712847, -1.9473224987), (-1643.0018062246, -1.9473224987))
            Line((-1643.0018062246, -1.9473224987), (-1596.8384411645, -1.9473224987))
            ThreePointArc((-1596.8384411645, -1.9473224987), (-1593.7946340194, -0.9140892002), (-1592.008812033, 1.7585822758))
            Line((-1592.008812033, 1.7585822758), (-1587.6428223759, 18.0526775013))
            Line((-1587.6428223759, 18.0526775013), (-1698.3607900732, 18.0526775013))
            Line((-1698.3607900732, 18.0526775013), (-1693.9948004161, 1.7585822758))
            ThreePointArc((-1693.9948004161, 1.7585822758), (-1692.2089784297, -0.9140892002), (-1689.1651712847, -1.9473224987))
        make_face()
    extrude(amount=-F6_DEPTH, mode=Mode.SUBTRACT)


with BuildPart() as f4g:
    # F0 (on Front) → F4, piece 7 (new body)
    with BuildSketch(Plane.XZ):
        with Locations((-1643.0018062246, -258.947322454)):
            Rectangle(F0_W_8, F0_H_16)
    extrude(amount=F4_DEPTH)


with BuildPart() as f4h:
    # F0 (on Front) → F4, piece 8 (new body)
    with BuildSketch(Plane.XZ):
        with Locations((-1643.0018062246, -450.947322454)):
            Rectangle(F0_W_8, F0_H_9)
    extrude(amount=F4_DEPTH)


with BuildPart() as f4i:
    # F0 (on Front) → F4, piece 9 (new body)
    with BuildSketch(Plane.XZ):
        with Locations((-1920.5018062246, -258.947322454)):
            Rectangle(F0_W_10, F0_H_17)
    extrude(amount=F4_DEPTH)


solid = Compound([f1.part, f2.part, f2b.part, f2c.part, f2d.part, f2e.part, f2f.part, f2g.part, f2h.part, f3.part, f4.part, f4b.part, f4c.part, f4d.part, f4e.part, f4f.part, f4g.part, f4h.part, f4i.part])
